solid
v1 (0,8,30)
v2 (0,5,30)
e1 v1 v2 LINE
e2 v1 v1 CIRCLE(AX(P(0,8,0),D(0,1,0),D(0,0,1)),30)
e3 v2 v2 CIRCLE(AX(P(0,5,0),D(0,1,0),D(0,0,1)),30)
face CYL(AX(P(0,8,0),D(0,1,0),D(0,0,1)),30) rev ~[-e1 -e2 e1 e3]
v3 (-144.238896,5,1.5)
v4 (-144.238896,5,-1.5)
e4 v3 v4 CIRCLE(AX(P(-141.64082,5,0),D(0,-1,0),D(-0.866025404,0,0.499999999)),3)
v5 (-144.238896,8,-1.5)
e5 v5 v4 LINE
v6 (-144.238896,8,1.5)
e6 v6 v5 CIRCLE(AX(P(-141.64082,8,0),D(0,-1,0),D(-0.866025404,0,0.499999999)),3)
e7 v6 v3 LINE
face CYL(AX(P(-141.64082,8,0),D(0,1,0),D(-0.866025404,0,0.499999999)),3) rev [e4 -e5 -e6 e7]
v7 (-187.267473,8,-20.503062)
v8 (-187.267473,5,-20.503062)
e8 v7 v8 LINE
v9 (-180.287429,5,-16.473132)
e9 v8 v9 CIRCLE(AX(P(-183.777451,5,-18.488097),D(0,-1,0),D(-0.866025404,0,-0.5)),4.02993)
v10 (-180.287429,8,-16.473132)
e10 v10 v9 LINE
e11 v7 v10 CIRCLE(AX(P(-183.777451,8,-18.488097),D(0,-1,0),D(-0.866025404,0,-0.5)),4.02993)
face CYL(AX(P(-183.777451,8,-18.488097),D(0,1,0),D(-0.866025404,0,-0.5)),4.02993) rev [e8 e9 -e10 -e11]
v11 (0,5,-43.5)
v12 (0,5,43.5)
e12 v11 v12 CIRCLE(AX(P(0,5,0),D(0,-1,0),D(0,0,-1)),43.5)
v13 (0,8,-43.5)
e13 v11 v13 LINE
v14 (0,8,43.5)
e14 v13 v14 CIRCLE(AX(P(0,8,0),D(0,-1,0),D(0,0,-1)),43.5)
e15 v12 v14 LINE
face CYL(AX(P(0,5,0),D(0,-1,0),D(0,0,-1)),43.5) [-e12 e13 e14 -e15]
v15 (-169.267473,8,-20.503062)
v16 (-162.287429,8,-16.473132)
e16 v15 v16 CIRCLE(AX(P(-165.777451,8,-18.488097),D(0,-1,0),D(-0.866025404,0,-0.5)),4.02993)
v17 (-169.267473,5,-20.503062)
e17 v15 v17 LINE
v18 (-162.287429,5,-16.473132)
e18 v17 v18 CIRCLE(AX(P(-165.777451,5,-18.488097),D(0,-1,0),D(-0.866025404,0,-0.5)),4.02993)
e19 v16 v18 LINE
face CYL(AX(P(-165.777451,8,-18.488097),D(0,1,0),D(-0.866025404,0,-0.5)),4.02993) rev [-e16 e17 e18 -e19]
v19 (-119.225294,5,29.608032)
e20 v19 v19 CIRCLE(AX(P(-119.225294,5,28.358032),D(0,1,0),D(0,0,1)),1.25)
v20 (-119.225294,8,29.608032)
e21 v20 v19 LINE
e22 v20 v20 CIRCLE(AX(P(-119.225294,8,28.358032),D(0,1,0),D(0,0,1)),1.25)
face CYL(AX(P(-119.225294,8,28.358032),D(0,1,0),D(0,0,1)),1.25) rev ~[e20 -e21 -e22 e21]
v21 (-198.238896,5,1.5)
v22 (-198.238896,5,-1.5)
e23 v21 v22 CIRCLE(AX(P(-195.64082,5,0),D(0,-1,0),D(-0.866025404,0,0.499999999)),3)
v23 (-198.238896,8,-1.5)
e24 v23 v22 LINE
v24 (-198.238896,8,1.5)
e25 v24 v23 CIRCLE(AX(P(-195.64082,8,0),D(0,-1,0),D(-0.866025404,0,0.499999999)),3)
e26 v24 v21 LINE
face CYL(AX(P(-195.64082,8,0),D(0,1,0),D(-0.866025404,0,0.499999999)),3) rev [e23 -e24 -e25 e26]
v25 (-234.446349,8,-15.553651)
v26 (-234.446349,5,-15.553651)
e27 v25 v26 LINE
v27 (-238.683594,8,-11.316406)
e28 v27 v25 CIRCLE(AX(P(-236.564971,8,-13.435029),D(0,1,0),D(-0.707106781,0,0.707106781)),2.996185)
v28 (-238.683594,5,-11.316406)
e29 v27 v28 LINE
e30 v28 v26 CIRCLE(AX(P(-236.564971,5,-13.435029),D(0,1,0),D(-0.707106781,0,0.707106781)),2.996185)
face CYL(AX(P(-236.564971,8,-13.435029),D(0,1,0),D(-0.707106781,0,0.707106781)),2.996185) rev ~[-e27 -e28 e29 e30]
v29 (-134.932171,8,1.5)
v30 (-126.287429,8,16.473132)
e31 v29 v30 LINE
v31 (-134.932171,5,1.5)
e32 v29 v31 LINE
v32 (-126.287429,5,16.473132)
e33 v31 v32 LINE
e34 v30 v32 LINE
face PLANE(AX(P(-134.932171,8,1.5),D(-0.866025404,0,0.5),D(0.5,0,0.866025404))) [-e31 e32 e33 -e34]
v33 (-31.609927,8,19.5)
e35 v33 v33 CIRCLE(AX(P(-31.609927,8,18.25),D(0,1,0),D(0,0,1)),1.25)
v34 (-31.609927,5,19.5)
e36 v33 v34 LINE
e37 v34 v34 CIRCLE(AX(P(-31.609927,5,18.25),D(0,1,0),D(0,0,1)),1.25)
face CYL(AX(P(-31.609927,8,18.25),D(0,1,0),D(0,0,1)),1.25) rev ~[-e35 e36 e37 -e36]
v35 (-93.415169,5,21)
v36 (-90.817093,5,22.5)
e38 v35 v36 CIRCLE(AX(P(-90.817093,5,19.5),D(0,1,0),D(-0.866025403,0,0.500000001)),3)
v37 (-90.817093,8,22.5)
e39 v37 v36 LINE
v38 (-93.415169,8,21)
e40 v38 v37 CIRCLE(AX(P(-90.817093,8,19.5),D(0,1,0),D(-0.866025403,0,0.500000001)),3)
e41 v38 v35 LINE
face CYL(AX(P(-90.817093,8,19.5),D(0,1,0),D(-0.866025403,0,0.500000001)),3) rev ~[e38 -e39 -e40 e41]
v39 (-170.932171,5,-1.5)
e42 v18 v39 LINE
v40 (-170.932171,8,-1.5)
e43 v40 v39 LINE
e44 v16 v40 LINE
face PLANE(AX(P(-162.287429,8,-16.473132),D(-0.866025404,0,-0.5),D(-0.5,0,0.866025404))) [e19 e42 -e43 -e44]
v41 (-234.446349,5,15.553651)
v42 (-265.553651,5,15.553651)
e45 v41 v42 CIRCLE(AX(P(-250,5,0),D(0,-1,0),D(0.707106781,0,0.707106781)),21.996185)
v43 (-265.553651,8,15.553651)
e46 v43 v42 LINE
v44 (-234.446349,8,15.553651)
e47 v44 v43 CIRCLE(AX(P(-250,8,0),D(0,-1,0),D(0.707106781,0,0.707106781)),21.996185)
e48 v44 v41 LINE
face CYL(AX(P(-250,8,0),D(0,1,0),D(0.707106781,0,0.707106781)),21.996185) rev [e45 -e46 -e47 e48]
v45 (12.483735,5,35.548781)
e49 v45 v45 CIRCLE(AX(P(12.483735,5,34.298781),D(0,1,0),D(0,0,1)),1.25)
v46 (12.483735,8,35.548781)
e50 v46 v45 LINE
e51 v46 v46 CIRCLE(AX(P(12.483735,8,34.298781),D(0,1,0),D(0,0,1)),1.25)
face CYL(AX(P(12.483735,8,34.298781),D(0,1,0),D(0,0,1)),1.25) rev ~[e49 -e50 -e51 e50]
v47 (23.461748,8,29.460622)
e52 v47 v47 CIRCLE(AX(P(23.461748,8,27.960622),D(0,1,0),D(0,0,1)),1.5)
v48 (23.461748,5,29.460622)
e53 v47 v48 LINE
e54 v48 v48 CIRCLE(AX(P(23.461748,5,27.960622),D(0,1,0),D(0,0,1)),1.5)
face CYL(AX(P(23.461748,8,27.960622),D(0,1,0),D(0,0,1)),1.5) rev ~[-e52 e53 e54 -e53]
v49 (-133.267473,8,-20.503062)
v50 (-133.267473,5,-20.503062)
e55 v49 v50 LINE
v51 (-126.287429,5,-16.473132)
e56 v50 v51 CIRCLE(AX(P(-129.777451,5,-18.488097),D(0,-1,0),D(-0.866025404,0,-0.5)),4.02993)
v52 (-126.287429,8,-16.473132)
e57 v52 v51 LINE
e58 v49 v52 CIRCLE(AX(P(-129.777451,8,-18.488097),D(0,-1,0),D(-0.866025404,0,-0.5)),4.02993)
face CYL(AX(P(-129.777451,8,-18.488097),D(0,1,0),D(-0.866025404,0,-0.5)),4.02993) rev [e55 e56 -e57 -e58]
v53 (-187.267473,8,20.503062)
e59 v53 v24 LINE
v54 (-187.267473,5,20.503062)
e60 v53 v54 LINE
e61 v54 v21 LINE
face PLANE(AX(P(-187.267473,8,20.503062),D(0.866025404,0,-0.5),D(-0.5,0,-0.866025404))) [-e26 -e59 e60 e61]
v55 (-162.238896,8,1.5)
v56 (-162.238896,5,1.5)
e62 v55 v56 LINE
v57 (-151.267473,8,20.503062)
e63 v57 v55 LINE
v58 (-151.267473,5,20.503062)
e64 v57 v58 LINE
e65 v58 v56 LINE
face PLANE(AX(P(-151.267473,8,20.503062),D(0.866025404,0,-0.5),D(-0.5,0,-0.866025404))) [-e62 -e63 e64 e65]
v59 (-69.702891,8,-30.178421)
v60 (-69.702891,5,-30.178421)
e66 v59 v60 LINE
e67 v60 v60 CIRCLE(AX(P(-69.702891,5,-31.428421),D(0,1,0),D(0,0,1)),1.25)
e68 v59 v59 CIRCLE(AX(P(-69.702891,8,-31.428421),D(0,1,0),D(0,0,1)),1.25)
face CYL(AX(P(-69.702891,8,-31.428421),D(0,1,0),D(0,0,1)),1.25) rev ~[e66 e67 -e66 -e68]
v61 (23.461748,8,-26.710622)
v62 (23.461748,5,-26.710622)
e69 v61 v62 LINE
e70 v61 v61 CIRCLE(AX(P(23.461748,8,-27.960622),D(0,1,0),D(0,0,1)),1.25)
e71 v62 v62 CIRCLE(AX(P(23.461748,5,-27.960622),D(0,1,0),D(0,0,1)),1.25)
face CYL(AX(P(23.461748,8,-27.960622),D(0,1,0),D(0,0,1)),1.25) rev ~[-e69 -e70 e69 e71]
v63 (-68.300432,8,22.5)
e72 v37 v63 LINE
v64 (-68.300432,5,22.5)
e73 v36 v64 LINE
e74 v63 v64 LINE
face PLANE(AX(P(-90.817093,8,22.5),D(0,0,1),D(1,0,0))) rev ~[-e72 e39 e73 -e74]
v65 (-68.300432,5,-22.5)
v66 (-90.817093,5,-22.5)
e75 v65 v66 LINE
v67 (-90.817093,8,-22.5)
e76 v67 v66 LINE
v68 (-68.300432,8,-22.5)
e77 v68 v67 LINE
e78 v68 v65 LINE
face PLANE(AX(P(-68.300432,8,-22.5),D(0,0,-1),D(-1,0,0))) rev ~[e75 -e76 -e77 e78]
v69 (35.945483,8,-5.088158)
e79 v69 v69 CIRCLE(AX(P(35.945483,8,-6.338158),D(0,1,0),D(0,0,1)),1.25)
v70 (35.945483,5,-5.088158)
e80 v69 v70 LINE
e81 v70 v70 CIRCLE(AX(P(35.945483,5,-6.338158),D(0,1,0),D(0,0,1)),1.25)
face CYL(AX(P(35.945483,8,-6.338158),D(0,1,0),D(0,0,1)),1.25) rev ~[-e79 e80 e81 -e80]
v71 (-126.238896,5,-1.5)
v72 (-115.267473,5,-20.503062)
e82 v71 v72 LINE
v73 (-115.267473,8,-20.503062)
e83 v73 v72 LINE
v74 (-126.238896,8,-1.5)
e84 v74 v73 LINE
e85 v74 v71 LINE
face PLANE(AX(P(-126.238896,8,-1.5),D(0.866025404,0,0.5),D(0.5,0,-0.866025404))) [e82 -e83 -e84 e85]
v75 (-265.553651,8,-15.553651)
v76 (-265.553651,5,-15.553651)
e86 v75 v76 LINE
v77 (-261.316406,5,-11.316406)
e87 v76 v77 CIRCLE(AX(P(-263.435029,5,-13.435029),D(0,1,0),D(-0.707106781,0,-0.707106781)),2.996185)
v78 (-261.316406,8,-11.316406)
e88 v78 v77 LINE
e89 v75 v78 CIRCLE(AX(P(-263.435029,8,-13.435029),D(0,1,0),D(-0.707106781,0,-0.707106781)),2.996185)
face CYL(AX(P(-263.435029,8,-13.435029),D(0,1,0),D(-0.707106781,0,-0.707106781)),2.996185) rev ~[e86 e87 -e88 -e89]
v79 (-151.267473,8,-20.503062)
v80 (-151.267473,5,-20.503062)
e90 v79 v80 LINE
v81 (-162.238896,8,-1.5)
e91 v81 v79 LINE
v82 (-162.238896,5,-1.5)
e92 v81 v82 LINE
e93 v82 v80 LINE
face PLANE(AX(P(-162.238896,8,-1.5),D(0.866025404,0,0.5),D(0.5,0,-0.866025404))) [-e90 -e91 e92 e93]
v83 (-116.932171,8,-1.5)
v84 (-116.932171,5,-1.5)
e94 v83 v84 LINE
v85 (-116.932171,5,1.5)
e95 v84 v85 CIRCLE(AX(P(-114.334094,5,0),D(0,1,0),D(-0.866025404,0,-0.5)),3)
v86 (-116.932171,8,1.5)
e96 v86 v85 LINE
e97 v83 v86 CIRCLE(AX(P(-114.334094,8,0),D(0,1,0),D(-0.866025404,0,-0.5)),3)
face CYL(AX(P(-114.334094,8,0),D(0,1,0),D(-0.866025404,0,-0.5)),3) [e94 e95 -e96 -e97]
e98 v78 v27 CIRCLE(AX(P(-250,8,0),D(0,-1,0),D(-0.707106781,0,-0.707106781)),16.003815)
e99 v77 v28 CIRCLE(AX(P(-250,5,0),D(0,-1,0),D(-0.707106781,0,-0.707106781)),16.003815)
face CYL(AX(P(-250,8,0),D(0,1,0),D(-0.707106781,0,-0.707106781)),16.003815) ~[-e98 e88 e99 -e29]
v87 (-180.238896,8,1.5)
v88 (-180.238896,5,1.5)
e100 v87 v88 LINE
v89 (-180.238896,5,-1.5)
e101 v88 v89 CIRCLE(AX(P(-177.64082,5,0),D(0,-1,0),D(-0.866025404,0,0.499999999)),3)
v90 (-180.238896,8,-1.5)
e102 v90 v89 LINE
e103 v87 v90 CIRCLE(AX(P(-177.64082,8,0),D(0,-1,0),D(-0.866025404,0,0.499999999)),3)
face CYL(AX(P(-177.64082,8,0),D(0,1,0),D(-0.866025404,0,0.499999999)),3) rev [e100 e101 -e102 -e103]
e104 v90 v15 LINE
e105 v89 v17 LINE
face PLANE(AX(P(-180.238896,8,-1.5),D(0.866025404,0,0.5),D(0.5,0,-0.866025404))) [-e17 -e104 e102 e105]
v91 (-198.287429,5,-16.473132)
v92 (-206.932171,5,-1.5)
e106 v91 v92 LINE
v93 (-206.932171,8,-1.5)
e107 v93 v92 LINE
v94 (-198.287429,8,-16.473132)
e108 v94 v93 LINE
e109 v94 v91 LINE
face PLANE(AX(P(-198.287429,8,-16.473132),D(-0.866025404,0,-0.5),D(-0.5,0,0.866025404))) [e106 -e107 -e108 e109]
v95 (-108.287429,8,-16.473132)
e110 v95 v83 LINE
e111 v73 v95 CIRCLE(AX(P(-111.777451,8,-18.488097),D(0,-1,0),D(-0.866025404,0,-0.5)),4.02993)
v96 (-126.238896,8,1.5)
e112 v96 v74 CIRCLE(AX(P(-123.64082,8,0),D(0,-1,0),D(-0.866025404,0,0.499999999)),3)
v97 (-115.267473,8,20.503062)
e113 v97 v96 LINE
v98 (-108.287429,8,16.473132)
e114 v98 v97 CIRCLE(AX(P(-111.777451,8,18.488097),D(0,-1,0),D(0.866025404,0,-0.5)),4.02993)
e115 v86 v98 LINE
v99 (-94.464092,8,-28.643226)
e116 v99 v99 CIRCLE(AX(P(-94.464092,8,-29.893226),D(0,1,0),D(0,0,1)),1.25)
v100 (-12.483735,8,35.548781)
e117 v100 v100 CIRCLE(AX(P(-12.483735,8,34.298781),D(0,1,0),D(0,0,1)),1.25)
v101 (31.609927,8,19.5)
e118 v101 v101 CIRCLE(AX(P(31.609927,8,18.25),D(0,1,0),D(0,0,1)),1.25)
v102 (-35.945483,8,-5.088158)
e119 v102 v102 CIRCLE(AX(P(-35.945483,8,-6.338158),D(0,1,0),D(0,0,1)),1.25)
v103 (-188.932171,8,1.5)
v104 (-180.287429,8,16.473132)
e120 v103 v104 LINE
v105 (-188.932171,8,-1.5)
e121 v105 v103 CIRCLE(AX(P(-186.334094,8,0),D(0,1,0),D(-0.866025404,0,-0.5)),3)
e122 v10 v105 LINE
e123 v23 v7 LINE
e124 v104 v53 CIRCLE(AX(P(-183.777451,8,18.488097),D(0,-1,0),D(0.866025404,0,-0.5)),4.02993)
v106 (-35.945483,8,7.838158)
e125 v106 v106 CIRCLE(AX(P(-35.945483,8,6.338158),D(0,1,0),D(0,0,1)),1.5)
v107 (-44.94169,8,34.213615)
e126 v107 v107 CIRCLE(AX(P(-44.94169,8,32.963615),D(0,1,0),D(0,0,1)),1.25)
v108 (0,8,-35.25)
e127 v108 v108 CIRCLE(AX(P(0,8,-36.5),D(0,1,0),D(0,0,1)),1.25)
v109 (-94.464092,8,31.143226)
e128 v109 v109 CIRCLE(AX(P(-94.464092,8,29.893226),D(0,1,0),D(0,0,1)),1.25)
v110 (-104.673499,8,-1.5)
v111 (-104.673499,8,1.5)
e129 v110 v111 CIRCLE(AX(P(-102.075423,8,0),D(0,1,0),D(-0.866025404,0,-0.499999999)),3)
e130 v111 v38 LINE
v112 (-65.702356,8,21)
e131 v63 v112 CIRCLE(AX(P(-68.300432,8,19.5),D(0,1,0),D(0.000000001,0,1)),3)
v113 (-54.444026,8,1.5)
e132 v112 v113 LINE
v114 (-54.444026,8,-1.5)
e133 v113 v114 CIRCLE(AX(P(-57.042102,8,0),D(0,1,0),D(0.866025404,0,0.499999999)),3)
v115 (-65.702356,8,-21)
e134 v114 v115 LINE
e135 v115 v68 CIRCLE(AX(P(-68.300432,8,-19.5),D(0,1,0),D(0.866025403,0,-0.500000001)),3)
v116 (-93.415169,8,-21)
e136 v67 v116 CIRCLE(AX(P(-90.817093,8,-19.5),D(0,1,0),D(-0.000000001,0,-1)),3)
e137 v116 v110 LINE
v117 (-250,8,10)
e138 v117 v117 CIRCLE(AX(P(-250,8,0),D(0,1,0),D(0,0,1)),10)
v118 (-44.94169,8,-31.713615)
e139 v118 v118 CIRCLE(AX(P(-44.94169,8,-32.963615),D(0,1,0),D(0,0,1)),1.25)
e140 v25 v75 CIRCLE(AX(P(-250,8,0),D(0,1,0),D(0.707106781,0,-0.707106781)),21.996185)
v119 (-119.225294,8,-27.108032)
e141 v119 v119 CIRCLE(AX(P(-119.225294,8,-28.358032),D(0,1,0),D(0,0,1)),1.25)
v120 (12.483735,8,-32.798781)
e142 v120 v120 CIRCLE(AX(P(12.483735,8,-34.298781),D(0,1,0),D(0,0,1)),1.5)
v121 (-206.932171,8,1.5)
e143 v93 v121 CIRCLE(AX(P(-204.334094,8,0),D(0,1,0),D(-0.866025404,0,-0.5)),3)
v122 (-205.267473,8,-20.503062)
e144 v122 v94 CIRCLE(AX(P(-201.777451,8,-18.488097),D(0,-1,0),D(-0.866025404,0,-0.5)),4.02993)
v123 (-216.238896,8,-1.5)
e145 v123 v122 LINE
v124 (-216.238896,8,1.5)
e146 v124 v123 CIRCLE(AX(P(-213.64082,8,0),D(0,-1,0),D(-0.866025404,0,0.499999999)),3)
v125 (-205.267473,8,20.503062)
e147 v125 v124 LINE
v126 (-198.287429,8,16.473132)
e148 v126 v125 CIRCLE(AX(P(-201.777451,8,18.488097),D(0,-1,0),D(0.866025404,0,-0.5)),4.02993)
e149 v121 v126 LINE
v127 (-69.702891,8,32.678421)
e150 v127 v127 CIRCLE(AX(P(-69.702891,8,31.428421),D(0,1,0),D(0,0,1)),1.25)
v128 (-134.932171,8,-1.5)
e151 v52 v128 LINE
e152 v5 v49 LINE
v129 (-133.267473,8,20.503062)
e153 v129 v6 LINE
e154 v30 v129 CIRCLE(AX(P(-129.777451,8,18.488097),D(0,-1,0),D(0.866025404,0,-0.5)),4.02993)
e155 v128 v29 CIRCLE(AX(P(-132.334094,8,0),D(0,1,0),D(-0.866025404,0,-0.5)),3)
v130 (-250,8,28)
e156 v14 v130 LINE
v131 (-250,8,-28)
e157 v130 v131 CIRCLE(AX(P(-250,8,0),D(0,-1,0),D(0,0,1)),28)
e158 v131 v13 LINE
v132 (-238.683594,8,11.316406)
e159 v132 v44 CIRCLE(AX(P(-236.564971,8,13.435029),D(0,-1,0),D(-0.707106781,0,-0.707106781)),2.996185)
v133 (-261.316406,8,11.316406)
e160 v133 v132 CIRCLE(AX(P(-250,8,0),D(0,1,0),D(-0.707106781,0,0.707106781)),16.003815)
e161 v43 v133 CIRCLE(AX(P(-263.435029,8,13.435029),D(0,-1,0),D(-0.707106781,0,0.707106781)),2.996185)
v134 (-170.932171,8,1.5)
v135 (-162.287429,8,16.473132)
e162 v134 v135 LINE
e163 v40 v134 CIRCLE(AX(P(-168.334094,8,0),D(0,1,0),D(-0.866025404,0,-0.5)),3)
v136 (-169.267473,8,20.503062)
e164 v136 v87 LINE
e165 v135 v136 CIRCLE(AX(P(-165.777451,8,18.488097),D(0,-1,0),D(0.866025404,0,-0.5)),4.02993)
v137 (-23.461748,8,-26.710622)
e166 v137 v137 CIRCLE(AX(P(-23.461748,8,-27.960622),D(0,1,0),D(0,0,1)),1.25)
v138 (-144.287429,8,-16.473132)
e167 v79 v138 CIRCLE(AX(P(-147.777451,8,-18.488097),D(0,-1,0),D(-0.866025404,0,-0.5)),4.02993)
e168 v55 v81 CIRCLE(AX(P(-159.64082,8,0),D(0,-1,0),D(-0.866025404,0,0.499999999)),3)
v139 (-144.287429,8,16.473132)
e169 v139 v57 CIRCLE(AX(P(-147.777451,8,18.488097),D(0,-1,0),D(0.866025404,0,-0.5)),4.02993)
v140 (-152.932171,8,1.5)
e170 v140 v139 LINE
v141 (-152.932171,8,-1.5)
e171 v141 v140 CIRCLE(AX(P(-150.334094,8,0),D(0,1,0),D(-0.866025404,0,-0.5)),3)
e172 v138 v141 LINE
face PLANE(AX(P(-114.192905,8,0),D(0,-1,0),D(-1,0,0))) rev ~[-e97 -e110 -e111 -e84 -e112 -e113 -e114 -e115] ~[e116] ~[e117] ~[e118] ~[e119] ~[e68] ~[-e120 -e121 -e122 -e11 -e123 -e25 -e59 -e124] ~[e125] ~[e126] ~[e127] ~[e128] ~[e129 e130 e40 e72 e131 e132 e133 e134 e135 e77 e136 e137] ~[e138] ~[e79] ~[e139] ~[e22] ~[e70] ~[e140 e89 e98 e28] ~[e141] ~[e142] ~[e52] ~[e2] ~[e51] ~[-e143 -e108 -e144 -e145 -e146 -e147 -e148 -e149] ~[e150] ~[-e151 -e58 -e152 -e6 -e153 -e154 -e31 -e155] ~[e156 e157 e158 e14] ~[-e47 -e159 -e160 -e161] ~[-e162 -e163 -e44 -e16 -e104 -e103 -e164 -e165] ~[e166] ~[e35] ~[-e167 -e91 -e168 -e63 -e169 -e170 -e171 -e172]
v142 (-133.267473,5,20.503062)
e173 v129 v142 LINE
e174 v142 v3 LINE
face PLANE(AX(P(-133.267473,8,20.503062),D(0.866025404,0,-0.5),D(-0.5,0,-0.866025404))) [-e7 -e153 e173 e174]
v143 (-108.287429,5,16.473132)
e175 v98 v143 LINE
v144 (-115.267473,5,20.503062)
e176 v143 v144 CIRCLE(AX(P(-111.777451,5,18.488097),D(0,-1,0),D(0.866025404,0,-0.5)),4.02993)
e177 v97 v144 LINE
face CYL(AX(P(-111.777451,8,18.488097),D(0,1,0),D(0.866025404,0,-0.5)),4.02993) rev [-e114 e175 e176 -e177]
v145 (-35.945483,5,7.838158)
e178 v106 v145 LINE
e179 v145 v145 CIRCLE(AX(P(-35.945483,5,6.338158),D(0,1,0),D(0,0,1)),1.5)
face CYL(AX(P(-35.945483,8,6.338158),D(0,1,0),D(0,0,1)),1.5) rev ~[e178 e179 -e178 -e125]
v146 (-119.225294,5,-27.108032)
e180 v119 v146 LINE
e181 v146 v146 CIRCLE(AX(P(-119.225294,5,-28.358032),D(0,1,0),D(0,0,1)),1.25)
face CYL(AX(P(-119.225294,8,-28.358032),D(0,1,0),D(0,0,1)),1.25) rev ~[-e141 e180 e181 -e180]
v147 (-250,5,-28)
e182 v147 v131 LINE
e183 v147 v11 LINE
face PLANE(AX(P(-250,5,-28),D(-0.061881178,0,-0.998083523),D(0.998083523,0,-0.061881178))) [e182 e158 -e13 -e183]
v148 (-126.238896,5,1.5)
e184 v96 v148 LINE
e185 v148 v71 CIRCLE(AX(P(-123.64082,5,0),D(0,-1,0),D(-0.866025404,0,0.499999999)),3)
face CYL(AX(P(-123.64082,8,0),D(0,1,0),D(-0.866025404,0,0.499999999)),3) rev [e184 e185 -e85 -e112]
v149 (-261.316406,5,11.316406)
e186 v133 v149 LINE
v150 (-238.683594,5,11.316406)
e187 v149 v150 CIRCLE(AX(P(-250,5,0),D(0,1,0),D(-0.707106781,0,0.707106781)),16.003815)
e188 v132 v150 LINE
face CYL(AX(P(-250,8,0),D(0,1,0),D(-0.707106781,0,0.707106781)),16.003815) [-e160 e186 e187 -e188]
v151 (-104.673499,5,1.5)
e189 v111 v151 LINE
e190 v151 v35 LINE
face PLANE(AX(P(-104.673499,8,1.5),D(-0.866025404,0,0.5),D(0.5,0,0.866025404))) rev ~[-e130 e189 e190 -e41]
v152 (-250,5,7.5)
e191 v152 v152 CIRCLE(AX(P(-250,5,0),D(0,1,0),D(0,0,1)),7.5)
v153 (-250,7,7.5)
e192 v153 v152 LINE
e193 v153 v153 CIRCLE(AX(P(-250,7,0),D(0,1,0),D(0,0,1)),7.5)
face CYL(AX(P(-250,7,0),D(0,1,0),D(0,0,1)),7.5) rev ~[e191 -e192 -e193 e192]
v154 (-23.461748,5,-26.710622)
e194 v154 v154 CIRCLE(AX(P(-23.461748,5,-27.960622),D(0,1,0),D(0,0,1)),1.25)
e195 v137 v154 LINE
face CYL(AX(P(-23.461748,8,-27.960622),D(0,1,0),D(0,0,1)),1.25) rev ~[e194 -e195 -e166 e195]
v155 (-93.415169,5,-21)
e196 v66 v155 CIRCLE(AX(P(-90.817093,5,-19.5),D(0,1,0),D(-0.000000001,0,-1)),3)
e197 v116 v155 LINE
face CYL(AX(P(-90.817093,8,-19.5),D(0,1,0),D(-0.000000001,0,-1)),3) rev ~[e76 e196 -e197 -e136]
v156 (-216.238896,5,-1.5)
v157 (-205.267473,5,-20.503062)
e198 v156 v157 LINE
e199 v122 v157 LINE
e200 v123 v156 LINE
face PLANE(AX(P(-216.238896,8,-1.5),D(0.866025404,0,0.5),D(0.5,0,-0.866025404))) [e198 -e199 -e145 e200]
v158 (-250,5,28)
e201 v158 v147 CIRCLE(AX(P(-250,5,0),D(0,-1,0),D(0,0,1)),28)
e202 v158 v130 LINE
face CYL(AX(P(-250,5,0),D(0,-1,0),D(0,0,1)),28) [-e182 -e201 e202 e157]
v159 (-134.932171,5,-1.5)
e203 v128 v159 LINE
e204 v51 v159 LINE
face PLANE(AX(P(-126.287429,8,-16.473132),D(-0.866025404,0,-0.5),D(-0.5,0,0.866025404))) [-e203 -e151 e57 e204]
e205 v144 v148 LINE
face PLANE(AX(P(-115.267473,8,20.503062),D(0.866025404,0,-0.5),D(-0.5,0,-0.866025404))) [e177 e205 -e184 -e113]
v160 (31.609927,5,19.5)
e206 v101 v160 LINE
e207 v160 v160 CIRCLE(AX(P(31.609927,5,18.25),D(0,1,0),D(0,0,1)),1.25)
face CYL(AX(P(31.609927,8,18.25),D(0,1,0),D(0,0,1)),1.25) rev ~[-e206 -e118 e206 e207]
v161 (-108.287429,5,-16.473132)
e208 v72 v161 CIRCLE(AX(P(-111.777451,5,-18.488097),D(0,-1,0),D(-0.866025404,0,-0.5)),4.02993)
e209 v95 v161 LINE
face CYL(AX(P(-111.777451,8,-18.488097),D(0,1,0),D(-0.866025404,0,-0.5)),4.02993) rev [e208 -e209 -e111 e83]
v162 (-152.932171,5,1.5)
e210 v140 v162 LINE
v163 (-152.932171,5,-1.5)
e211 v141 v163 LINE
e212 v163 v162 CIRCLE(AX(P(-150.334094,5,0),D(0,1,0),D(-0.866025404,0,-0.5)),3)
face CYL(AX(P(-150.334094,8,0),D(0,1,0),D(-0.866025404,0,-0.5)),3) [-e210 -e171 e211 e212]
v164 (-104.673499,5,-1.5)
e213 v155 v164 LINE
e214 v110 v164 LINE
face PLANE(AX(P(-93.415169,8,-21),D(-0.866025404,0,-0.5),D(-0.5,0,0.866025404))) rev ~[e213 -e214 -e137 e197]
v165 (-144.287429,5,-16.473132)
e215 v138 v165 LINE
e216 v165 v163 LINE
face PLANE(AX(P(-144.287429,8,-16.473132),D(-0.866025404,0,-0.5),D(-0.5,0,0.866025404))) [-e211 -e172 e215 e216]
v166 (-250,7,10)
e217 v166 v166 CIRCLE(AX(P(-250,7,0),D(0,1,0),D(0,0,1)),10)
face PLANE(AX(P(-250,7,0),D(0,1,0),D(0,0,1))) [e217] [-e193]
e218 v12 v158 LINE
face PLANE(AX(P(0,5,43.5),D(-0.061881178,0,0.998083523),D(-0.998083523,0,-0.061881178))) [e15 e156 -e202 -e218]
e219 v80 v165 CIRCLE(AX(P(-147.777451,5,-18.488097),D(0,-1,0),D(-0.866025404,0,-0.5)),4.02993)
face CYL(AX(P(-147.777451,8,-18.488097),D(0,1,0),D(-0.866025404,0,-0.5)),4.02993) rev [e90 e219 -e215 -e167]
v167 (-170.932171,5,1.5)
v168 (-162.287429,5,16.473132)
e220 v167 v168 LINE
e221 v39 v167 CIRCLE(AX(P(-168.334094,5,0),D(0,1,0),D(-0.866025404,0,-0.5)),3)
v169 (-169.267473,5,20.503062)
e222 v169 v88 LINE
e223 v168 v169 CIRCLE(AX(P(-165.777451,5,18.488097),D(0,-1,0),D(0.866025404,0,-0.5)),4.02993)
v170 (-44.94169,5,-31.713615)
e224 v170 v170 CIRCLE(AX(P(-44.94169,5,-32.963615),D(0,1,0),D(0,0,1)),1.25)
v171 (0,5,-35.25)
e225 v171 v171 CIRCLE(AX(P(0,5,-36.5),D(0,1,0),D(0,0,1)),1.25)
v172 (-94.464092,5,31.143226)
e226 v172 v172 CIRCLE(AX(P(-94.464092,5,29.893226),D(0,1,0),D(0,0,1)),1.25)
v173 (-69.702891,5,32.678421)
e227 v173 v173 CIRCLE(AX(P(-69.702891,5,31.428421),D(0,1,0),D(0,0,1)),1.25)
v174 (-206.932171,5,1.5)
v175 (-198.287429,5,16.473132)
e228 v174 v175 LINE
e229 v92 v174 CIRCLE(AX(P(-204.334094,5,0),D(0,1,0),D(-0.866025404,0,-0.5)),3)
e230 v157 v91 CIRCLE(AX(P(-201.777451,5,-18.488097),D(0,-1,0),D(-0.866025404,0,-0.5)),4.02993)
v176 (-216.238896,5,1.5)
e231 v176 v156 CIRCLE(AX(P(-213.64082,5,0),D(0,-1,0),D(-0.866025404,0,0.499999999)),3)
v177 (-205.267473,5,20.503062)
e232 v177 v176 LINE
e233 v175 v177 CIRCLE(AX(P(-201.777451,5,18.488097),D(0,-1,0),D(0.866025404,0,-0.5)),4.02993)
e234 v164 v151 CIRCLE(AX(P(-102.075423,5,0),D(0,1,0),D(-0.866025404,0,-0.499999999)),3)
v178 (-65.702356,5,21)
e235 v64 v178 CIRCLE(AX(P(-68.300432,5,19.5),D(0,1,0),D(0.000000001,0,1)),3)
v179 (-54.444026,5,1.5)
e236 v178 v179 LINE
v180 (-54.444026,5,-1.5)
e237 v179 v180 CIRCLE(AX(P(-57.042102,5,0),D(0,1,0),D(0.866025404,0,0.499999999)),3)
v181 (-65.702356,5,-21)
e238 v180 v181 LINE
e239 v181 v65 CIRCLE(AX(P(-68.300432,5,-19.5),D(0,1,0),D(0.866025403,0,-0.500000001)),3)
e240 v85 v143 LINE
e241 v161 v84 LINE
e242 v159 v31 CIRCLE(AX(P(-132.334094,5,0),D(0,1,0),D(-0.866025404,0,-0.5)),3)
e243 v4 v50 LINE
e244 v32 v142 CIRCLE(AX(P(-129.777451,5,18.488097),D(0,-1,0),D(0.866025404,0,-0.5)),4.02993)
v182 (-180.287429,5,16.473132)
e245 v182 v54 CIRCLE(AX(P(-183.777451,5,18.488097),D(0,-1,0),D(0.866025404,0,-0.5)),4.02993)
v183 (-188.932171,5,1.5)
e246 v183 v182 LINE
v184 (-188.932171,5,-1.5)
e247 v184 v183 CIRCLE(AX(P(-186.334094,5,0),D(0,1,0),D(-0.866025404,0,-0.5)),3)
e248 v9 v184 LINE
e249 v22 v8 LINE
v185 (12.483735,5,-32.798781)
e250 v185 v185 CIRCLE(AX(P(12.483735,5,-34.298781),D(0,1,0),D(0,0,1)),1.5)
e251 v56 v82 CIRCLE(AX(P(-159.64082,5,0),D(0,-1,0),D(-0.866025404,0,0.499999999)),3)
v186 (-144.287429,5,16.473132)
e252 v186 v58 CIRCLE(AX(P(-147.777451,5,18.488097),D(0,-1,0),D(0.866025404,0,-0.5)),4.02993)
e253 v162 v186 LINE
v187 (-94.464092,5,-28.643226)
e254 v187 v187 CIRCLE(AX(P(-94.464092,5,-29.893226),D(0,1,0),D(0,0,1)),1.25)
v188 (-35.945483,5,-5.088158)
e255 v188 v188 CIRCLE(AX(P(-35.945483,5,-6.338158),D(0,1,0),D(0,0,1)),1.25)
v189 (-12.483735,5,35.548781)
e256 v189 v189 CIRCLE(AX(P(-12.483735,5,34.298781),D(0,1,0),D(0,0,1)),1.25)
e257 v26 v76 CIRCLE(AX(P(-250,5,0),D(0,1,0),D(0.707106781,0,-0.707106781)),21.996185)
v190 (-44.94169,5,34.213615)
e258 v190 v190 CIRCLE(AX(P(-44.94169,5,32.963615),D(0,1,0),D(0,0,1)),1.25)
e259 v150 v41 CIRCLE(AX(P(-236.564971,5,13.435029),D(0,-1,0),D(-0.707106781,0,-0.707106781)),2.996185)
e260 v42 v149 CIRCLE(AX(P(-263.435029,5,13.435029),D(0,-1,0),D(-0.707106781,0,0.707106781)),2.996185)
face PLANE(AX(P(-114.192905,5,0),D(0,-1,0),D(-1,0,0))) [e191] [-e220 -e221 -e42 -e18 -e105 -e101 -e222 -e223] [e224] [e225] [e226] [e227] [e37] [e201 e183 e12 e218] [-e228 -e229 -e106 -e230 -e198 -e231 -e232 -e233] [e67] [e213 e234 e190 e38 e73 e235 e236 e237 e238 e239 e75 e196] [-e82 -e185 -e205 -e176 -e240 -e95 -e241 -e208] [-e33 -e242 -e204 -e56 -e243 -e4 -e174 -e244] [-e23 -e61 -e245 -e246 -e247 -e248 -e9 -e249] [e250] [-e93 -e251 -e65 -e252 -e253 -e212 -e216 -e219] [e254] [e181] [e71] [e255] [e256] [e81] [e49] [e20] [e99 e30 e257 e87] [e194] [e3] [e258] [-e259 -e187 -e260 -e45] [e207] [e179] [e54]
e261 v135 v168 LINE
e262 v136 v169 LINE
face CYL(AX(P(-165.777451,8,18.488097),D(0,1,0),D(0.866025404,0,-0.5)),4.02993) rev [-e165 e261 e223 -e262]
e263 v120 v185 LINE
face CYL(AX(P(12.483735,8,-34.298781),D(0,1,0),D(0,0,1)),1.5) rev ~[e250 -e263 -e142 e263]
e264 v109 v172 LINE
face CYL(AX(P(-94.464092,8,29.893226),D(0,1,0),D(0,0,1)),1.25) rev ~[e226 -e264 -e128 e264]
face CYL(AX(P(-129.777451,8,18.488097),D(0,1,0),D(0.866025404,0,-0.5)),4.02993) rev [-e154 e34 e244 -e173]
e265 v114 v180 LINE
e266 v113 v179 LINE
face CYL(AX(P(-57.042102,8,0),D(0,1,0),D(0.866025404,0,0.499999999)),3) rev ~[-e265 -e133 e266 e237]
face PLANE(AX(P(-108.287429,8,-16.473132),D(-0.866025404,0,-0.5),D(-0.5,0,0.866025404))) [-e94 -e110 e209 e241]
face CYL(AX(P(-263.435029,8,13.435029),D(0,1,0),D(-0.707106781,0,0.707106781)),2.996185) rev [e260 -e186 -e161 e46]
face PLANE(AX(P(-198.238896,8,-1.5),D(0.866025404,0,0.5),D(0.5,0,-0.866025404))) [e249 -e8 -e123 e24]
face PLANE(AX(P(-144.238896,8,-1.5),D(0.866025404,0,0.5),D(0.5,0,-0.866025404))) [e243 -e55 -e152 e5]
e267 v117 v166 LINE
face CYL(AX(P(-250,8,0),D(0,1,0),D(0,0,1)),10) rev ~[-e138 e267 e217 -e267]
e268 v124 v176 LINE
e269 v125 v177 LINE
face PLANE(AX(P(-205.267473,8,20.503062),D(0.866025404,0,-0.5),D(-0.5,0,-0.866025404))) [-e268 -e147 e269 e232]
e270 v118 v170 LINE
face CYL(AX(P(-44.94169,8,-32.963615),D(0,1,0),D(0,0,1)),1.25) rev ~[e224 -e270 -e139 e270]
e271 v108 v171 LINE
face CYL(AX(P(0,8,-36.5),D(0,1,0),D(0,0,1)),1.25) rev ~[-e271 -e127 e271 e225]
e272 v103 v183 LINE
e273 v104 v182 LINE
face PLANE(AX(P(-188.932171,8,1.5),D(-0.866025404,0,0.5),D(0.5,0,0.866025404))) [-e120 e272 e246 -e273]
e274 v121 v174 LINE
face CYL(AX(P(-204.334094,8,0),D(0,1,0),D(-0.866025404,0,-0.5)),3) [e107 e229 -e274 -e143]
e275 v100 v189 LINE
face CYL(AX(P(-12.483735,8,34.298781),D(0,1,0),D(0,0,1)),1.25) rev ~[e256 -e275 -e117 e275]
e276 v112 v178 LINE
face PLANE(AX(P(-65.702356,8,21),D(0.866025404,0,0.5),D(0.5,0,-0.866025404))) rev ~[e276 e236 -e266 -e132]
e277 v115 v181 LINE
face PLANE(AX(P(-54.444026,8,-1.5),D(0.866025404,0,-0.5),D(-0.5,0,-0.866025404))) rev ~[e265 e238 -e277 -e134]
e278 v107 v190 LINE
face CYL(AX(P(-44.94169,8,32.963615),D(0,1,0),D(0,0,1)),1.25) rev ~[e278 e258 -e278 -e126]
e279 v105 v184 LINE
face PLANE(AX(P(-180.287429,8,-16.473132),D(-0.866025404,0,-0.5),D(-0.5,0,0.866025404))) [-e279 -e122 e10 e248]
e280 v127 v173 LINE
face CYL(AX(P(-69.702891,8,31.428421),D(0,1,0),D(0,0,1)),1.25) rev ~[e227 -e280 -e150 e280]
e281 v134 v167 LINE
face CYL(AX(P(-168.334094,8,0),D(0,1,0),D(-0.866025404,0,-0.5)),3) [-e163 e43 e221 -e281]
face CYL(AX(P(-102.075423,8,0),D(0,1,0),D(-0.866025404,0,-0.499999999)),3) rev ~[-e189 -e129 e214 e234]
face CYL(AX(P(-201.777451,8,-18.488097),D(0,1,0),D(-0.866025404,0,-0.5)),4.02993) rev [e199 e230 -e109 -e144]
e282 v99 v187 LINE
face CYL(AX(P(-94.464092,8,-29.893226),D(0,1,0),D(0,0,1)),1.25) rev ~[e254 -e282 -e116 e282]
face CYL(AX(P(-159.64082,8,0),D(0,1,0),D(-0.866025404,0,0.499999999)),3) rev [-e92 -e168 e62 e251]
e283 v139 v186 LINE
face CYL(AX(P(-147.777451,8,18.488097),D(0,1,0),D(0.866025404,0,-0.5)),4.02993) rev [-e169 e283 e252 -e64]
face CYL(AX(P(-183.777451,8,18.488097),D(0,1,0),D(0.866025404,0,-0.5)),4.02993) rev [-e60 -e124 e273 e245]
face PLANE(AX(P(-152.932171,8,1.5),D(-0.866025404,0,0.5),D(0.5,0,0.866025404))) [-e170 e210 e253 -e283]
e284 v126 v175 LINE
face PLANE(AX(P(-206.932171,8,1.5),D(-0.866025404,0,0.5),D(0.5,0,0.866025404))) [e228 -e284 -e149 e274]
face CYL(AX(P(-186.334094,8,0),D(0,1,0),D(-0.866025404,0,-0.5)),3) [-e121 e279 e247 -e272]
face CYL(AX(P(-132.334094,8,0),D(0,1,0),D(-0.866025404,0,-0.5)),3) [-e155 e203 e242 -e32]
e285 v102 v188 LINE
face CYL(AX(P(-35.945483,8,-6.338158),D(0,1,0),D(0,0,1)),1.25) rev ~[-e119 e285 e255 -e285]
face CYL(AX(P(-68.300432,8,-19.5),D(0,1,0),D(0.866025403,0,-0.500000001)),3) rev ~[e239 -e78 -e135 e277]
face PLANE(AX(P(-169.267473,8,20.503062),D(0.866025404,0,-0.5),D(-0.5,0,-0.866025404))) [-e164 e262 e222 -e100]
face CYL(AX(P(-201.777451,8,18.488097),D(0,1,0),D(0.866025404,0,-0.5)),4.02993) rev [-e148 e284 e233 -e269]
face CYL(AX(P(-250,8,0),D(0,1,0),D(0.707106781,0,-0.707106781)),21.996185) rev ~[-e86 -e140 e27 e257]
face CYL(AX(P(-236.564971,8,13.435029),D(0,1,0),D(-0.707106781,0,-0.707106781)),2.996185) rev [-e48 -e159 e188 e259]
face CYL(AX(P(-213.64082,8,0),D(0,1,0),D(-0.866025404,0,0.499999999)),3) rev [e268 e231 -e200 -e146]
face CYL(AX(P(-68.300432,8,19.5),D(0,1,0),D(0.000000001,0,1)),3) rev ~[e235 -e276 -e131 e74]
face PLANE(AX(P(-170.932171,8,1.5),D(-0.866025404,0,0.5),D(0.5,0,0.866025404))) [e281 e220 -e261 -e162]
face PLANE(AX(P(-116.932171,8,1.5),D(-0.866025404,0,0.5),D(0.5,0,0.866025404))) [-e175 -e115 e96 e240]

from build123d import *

# Parameters (mm, degrees)
EXTRUDE_1_DEPTH     = 3
SKETCH_3_R          = 1.25
SKETCH_3_R_2        = 30
SKETCH_3_R_3        = 1.5
CUT_EXTRUDE_1_DEPTH = 3
CUT_EXTRUDE_2_DEPTH = 3
SKETCH_5_R          = 1.25
CUT_EXTRUDE_3_DEPTH = 10
SKETCH_6_R          = 10
CUT_EXTRUDE_4_DEPTH = 1
SKETCH_7_R          = 7.5
CUT_EXTRUDE_5_DEPTH = 11


with BuildPart() as part:
    # 草图2 → 凸台-拉伸1 (new body)
    with BuildSketch(Plane(origin=(0, 5, 0), x_dir=(1, 0, 0), z_dir=(0, 1, 0))):
        with BuildLine():
            Line((-250, 28), (0, 43.5))
            ThreePointArc((0, 43.5), (43.5, 0), (0, -43.5))
            Line((0, -43.5), (-250, -28))
            ThreePointArc((-250, -28), (-278, 0), (-250, 28))
        make_face()
    extrude(amount=EXTRUDE_1_DEPTH)

    # 草图3 → 切除-拉伸1 (cut)
    with BuildSketch(Plane(origin=(0, 8, 0), x_dir=(1, 0, 0), z_dir=(0, 1, 0))):
        with Locations(Location((-250, 4, 0), (0, 0, 270))):
            Circle(SKETCH_3_R)
        with Locations(Location((-246, 0, 0), (0, 0, 270))):
            Circle(SKETCH_3_R)
        with Locations(Location((-250, -4, 0), (0, 0, 270))):
            Circle(SKETCH_3_R)
        with Locations(Location((-254, 0, 0), (0, 0, 270))):
            Circle(SKETCH_3_R)
        with Locations(Location((0, 0, 0), (0, 0, 270))):
            Circle(SKETCH_3_R_2)
        with Locations(Location((0, 36.5, 0), (0, 0, 270))):
            Circle(SKETCH_3_R)
        with Locations(Location((12.483735231, 34.298780659, 0), (0, 0, 270))):
            Circle(SKETCH_3_R_3)
        with Locations(Location((23.461747754, 27.960622174, 0), (0, 0, 270))):
            Circle(SKETCH_3_R)
        with Locations(Location((-23.461747754, 27.960622174, 0), (0, 0, 270))):
            Circle(SKETCH_3_R)
        with Locations(Location((-35.945482985, 6.338158485, 0), (0, 0, 270))):
            Circle(SKETCH_3_R)
        with Locations(Location((-35.945482985, -6.338158485, 0), (0, 0, 270))):
            Circle(SKETCH_3_R_3)
        with Locations(Location((-31.609927238, -18.25, 0), (0, 0, 270))):
            Circle(SKETCH_3_R)
        with Locations(Location((-12.483735231, -34.298780659, 0), (0, 0, 270))):
            Circle(SKETCH_3_R)
        with Locations(Location((12.483735231, -34.298780659, 0), (0, 0, 270))):
            Circle(SKETCH_3_R)
        with Locations(Location((23.461747754, -27.960622174, 0), (0, 0, 270))):
            Circle(SKETCH_3_R_3)
        with Locations(Location((31.609927238, -18.25, 0), (0, 0, 270))):
            Circle(SKETCH_3_R)
        with Locations(Location((35.945482985, 6.338158485, 0), (0, 0, 270))):
            Circle(SKETCH_3_R)
        with BuildLine():
            ThreePointArc((-265.553651429, 15.553651429), (-265.553651429, 11.316406256), (-261.316406256, 11.316406256))
            ThreePointArc((-261.316406256, 11.316406256), (-250, 16.003815204), (-238.683593744, 11.316406256))
            ThreePointArc((-238.683593744, 11.316406256), (-234.446348571, 11.316406256), (-234.446348571, 15.553651429))
            ThreePointArc((-234.446348571, 15.553651429), (-250, 21.996184796), (-265.553651429, 15.553651429))
        make_face()
        with BuildLine():
            ThreePointArc((-261.316406256, -11.316406256), (-250, -16.003815204), (-238.683593744, -11.316406256))
            ThreePointArc((-238.683593744, -11.316406256), (-234.446348571, -11.316406256), (-234.446348571, -15.553651429))
            ThreePointArc((-234.446348571, -15.553651429), (-250, -21.996184796), (-265.553651429, -15.553651429))
            ThreePointArc((-265.553651429, -15.553651429), (-265.553651429, -11.316406256), (-261.316406256, -11.316406256))
        make_face()
    extrude(amount=-CUT_EXTRUDE_1_DEPTH, mode=Mode.SUBTRACT)

    # 草图4 → 切除-拉伸2 (cut)
    with BuildSketch(Plane(origin=(0, 8, 0), x_dir=(1, 0, 0), z_dir=(0, 1, 0))):
        with BuildLine():
            Line((-216.23889617, 1.5), (-205.267472927, 20.503062488))
            ThreePointArc((-205.267472927, 20.503062488), (-199.762485666, 21.978119379), (-198.287428775, 16.473132117))
            Line((-198.287428775, 16.473132117), (-206.932170633, 1.5))
            ThreePointArc((-206.932170633, 1.5), (-207.334094422, 0), (-206.932170633, -1.5))
            Line((-206.932170633, -1.5), (-198.287428775, -16.473132117))
            ThreePointArc((-198.287428775, -16.473132117), (-199.762485666, -21.978119379), (-205.267472927, -20.503062488))
            Line((-205.267472927, -20.503062488), (-216.23889617, -1.5))
            ThreePointArc((-216.23889617, -1.5), (-216.640819958, 0), (-216.23889617, 1.5))
        make_face()
        with BuildLine():
            Line((-54.444025551, 1.5), (-65.7023558, 21))
            ThreePointArc((-65.7023558, 21), (-66.800432012, 22.098076211), (-68.300432012, 22.5))
            Line((-68.300432012, 22.5), (-90.81709251, 22.5))
            ThreePointArc((-90.81709251, 22.5), (-92.31709251, 22.098076211), (-93.415168722, 21))
            Line((-93.415168722, 21), (-104.673498971, 1.5))
            ThreePointArc((-104.673498971, 1.5), (-105.075422759, 0), (-104.673498971, -1.5))
            Line((-104.673498971, -1.5), (-93.415168722, -21))
            ThreePointArc((-93.415168722, -21), (-92.31709251, -22.098076211), (-90.81709251, -22.5))
            Line((-90.81709251, -22.5), (-68.300432012, -22.5))
            ThreePointArc((-68.300432012, -22.5), (-66.800432012, -22.098076211), (-65.7023558, -21))
            Line((-65.7023558, -21), (-54.444025551, -1.5))
            ThreePointArc((-54.444025551, -1.5), (-54.042101763, 0), (-54.444025551, 1.5))
        make_face()
        with BuildLine():
            Line((-188.932170633, -1.5), (-180.287428775, -16.473132117))
            ThreePointArc((-180.287428775, -16.473132117), (-181.762485666, -21.978119379), (-187.267472927, -20.503062488))
            Line((-187.267472927, -20.503062488), (-198.23889617, -1.5))
            ThreePointArc((-198.23889617, -1.5), (-198.640819958, 0), (-198.23889617, 1.5))
            Line((-198.23889617, 1.5), (-187.267472927, 20.503062488))
            ThreePointArc((-187.267472927, 20.503062488), (-181.762485666, 21.978119379), (-180.287428775, 16.473132117))
            Line((-180.287428775, 16.473132117), (-188.932170633, 1.5))
            ThreePointArc((-188.932170633, 1.5), (-189.334094422, 0), (-188.932170633, -1.5))
        make_face()
        with BuildLine():
            Line((-170.932170633, -1.5), (-162.287428775, -16.473132117))
            ThreePointArc((-162.287428775, -16.473132117), (-163.762485666, -21.978119379), (-169.267472927, -20.503062488))
            Line((-169.267472927, -20.503062488), (-180.23889617, -1.5))
            ThreePointArc((-180.23889617, -1.5), (-180.640819958, 0), (-180.23889617, 1.5))
            Line((-180.23889617, 1.5), (-169.267472927, 20.503062488))
            ThreePointArc((-169.267472927, 20.503062488), (-163.762485666, 21.978119379), (-162.287428775, 16.473132117))
            Line((-162.287428775, 16.473132117), (-170.932170633, 1.5))
            ThreePointArc((-170.932170633, 1.5), (-171.334094422, 0), (-170.932170633, -1.5))
        make_face()
        with BuildLine():
            Line((-152.932170633, -1.5), (-144.287428775, -16.473132117))
            ThreePointArc((-144.287428775, -16.473132117), (-145.762485666, -21.978119379), (-151.267472927, -20.503062488))
            Line((-151.267472927, -20.503062488), (-162.23889617, -1.5))
            ThreePointArc((-162.23889617, -1.5), (-162.640819958, 0), (-162.23889617, 1.5))
            Line((-162.23889617, 1.5), (-151.267472927, 20.503062488))
            ThreePointArc((-151.267472927, 20.503062488), (-145.762485666, 21.978119379), (-144.287428775, 16.473132117))
            Line((-144.287428775, 16.473132117), (-152.932170633, 1.5))
            ThreePointArc((-152.932170633, 1.5), (-153.334094422, 0), (-152.932170633, -1.5))
        make_face()
        with BuildLine():
            Line((-134.932170633, -1.5), (-126.287428775, -16.473132117))
            ThreePointArc((-126.287428775, -16.473132117), (-127.762485666, -21.978119379), (-133.267472927, -20.503062488))
            Line((-133.267472927, -20.503062488), (-144.23889617, -1.5))
            ThreePointArc((-144.23889617, -1.5), (-144.640819958, 0), (-144.23889617, 1.5))
            Line((-144.23889617, 1.5), (-133.267472927, 20.503062488))
            ThreePointArc((-133.267472927, 20.503062488), (-127.762485666, 21.978119379), (-126.287428775, 16.473132117))
            Line((-126.287428775, 16.473132117), (-134.932170633, 1.5))
            ThreePointArc((-134.932170633, 1.5), (-135.334094422, 0), (-134.932170633, -1.5))
        make_face()
        with BuildLine():
            Line((-116.932170633, -1.5), (-108.287428775, -16.473132117))
            ThreePointArc((-108.287428775, -16.473132117), (-109.762485666, -21.978119379), (-115.267472927, -20.503062488))
            Line((-115.267472927, -20.503062488), (-126.23889617, -1.5))
            ThreePointArc((-126.23889617, -1.5), (-126.640819958, 0), (-126.23889617, 1.5))
            Line((-126.23889617, 1.5), (-115.267472927, 20.503062488))
            ThreePointArc((-115.267472927, 20.503062488), (-109.762485666, 21.978119379), (-108.287428775, 16.473132117))
            Line((-108.287428775, 16.473132117), (-116.932170633, 1.5))
            ThreePointArc((-116.932170633, 1.5), (-117.334094422, 0), (-116.932170633, -1.5))
        make_face()
    extrude(amount=-CUT_EXTRUDE_2_DEPTH, mode=Mode.SUBTRACT)

    # 草图5 → 切除-拉伸3 (cut)
    with BuildSketch(Plane(origin=(0, 8, 0), x_dir=(1, 0, 0), z_dir=(0, 1, 0))):
        with Locations(Location((-44.941689831, 32.96361523, 0), (0, 0, 270))):
            Circle(SKETCH_5_R)
        with Locations(Location((-69.702891128, 31.42842075, 0), (0, 0, 270))):
            Circle(SKETCH_5_R)
        with Locations(Location((-119.225293723, 28.358031789, 0), (0, 0, 270))):
            Circle(SKETCH_5_R)
        with Locations(Location((-94.464092426, 29.89322627, 0), (0, 0, 270))):
            Circle(SKETCH_5_R)
        with Locations(Location((-44.941689831, -32.96361523, 0), (0, 0, 270))):
            Circle(SKETCH_5_R)
        with Locations(Location((-69.702891128, -31.42842075, 0), (0, 0, 270))):
            Circle(SKETCH_5_R)
        with Locations(Location((-94.464092426, -29.89322627, 0), (0, 0, 270))):
            Circle(SKETCH_5_R)
        with Locations(Location((-119.225293723, -28.358031789, 0), (0, 0, 270))):
            Circle(SKETCH_5_R)
    extrude(amount=-CUT_EXTRUDE_3_DEPTH, mode=Mode.SUBTRACT)

    # 草图6 → 切除-拉伸4 (cut)
    with BuildSketch(Plane(origin=(0, 8, 0), x_dir=(1, 0, 0), z_dir=(0, 1, 0))):
        with Locations(Location((-250, 0, 0), (0, 0, 270))):
            Circle(SKETCH_6_R)
    extrude(amount=-CUT_EXTRUDE_4_DEPTH, mode=Mode.SUBTRACT)

    # 草图7 → 切除-拉伸5 (cut)
    with BuildSketch(Plane(origin=(0, 7, 0), x_dir=(1, 0, 0), z_dir=(0, 1, 0))):
        with Locations(Location((-250, 0, 0), (0, 0, 270))):
            Circle(SKETCH_7_R)
    extrude(amount=-CUT_EXTRUDE_5_DEPTH, mode=Mode.SUBTRACT)


solid = part.part
